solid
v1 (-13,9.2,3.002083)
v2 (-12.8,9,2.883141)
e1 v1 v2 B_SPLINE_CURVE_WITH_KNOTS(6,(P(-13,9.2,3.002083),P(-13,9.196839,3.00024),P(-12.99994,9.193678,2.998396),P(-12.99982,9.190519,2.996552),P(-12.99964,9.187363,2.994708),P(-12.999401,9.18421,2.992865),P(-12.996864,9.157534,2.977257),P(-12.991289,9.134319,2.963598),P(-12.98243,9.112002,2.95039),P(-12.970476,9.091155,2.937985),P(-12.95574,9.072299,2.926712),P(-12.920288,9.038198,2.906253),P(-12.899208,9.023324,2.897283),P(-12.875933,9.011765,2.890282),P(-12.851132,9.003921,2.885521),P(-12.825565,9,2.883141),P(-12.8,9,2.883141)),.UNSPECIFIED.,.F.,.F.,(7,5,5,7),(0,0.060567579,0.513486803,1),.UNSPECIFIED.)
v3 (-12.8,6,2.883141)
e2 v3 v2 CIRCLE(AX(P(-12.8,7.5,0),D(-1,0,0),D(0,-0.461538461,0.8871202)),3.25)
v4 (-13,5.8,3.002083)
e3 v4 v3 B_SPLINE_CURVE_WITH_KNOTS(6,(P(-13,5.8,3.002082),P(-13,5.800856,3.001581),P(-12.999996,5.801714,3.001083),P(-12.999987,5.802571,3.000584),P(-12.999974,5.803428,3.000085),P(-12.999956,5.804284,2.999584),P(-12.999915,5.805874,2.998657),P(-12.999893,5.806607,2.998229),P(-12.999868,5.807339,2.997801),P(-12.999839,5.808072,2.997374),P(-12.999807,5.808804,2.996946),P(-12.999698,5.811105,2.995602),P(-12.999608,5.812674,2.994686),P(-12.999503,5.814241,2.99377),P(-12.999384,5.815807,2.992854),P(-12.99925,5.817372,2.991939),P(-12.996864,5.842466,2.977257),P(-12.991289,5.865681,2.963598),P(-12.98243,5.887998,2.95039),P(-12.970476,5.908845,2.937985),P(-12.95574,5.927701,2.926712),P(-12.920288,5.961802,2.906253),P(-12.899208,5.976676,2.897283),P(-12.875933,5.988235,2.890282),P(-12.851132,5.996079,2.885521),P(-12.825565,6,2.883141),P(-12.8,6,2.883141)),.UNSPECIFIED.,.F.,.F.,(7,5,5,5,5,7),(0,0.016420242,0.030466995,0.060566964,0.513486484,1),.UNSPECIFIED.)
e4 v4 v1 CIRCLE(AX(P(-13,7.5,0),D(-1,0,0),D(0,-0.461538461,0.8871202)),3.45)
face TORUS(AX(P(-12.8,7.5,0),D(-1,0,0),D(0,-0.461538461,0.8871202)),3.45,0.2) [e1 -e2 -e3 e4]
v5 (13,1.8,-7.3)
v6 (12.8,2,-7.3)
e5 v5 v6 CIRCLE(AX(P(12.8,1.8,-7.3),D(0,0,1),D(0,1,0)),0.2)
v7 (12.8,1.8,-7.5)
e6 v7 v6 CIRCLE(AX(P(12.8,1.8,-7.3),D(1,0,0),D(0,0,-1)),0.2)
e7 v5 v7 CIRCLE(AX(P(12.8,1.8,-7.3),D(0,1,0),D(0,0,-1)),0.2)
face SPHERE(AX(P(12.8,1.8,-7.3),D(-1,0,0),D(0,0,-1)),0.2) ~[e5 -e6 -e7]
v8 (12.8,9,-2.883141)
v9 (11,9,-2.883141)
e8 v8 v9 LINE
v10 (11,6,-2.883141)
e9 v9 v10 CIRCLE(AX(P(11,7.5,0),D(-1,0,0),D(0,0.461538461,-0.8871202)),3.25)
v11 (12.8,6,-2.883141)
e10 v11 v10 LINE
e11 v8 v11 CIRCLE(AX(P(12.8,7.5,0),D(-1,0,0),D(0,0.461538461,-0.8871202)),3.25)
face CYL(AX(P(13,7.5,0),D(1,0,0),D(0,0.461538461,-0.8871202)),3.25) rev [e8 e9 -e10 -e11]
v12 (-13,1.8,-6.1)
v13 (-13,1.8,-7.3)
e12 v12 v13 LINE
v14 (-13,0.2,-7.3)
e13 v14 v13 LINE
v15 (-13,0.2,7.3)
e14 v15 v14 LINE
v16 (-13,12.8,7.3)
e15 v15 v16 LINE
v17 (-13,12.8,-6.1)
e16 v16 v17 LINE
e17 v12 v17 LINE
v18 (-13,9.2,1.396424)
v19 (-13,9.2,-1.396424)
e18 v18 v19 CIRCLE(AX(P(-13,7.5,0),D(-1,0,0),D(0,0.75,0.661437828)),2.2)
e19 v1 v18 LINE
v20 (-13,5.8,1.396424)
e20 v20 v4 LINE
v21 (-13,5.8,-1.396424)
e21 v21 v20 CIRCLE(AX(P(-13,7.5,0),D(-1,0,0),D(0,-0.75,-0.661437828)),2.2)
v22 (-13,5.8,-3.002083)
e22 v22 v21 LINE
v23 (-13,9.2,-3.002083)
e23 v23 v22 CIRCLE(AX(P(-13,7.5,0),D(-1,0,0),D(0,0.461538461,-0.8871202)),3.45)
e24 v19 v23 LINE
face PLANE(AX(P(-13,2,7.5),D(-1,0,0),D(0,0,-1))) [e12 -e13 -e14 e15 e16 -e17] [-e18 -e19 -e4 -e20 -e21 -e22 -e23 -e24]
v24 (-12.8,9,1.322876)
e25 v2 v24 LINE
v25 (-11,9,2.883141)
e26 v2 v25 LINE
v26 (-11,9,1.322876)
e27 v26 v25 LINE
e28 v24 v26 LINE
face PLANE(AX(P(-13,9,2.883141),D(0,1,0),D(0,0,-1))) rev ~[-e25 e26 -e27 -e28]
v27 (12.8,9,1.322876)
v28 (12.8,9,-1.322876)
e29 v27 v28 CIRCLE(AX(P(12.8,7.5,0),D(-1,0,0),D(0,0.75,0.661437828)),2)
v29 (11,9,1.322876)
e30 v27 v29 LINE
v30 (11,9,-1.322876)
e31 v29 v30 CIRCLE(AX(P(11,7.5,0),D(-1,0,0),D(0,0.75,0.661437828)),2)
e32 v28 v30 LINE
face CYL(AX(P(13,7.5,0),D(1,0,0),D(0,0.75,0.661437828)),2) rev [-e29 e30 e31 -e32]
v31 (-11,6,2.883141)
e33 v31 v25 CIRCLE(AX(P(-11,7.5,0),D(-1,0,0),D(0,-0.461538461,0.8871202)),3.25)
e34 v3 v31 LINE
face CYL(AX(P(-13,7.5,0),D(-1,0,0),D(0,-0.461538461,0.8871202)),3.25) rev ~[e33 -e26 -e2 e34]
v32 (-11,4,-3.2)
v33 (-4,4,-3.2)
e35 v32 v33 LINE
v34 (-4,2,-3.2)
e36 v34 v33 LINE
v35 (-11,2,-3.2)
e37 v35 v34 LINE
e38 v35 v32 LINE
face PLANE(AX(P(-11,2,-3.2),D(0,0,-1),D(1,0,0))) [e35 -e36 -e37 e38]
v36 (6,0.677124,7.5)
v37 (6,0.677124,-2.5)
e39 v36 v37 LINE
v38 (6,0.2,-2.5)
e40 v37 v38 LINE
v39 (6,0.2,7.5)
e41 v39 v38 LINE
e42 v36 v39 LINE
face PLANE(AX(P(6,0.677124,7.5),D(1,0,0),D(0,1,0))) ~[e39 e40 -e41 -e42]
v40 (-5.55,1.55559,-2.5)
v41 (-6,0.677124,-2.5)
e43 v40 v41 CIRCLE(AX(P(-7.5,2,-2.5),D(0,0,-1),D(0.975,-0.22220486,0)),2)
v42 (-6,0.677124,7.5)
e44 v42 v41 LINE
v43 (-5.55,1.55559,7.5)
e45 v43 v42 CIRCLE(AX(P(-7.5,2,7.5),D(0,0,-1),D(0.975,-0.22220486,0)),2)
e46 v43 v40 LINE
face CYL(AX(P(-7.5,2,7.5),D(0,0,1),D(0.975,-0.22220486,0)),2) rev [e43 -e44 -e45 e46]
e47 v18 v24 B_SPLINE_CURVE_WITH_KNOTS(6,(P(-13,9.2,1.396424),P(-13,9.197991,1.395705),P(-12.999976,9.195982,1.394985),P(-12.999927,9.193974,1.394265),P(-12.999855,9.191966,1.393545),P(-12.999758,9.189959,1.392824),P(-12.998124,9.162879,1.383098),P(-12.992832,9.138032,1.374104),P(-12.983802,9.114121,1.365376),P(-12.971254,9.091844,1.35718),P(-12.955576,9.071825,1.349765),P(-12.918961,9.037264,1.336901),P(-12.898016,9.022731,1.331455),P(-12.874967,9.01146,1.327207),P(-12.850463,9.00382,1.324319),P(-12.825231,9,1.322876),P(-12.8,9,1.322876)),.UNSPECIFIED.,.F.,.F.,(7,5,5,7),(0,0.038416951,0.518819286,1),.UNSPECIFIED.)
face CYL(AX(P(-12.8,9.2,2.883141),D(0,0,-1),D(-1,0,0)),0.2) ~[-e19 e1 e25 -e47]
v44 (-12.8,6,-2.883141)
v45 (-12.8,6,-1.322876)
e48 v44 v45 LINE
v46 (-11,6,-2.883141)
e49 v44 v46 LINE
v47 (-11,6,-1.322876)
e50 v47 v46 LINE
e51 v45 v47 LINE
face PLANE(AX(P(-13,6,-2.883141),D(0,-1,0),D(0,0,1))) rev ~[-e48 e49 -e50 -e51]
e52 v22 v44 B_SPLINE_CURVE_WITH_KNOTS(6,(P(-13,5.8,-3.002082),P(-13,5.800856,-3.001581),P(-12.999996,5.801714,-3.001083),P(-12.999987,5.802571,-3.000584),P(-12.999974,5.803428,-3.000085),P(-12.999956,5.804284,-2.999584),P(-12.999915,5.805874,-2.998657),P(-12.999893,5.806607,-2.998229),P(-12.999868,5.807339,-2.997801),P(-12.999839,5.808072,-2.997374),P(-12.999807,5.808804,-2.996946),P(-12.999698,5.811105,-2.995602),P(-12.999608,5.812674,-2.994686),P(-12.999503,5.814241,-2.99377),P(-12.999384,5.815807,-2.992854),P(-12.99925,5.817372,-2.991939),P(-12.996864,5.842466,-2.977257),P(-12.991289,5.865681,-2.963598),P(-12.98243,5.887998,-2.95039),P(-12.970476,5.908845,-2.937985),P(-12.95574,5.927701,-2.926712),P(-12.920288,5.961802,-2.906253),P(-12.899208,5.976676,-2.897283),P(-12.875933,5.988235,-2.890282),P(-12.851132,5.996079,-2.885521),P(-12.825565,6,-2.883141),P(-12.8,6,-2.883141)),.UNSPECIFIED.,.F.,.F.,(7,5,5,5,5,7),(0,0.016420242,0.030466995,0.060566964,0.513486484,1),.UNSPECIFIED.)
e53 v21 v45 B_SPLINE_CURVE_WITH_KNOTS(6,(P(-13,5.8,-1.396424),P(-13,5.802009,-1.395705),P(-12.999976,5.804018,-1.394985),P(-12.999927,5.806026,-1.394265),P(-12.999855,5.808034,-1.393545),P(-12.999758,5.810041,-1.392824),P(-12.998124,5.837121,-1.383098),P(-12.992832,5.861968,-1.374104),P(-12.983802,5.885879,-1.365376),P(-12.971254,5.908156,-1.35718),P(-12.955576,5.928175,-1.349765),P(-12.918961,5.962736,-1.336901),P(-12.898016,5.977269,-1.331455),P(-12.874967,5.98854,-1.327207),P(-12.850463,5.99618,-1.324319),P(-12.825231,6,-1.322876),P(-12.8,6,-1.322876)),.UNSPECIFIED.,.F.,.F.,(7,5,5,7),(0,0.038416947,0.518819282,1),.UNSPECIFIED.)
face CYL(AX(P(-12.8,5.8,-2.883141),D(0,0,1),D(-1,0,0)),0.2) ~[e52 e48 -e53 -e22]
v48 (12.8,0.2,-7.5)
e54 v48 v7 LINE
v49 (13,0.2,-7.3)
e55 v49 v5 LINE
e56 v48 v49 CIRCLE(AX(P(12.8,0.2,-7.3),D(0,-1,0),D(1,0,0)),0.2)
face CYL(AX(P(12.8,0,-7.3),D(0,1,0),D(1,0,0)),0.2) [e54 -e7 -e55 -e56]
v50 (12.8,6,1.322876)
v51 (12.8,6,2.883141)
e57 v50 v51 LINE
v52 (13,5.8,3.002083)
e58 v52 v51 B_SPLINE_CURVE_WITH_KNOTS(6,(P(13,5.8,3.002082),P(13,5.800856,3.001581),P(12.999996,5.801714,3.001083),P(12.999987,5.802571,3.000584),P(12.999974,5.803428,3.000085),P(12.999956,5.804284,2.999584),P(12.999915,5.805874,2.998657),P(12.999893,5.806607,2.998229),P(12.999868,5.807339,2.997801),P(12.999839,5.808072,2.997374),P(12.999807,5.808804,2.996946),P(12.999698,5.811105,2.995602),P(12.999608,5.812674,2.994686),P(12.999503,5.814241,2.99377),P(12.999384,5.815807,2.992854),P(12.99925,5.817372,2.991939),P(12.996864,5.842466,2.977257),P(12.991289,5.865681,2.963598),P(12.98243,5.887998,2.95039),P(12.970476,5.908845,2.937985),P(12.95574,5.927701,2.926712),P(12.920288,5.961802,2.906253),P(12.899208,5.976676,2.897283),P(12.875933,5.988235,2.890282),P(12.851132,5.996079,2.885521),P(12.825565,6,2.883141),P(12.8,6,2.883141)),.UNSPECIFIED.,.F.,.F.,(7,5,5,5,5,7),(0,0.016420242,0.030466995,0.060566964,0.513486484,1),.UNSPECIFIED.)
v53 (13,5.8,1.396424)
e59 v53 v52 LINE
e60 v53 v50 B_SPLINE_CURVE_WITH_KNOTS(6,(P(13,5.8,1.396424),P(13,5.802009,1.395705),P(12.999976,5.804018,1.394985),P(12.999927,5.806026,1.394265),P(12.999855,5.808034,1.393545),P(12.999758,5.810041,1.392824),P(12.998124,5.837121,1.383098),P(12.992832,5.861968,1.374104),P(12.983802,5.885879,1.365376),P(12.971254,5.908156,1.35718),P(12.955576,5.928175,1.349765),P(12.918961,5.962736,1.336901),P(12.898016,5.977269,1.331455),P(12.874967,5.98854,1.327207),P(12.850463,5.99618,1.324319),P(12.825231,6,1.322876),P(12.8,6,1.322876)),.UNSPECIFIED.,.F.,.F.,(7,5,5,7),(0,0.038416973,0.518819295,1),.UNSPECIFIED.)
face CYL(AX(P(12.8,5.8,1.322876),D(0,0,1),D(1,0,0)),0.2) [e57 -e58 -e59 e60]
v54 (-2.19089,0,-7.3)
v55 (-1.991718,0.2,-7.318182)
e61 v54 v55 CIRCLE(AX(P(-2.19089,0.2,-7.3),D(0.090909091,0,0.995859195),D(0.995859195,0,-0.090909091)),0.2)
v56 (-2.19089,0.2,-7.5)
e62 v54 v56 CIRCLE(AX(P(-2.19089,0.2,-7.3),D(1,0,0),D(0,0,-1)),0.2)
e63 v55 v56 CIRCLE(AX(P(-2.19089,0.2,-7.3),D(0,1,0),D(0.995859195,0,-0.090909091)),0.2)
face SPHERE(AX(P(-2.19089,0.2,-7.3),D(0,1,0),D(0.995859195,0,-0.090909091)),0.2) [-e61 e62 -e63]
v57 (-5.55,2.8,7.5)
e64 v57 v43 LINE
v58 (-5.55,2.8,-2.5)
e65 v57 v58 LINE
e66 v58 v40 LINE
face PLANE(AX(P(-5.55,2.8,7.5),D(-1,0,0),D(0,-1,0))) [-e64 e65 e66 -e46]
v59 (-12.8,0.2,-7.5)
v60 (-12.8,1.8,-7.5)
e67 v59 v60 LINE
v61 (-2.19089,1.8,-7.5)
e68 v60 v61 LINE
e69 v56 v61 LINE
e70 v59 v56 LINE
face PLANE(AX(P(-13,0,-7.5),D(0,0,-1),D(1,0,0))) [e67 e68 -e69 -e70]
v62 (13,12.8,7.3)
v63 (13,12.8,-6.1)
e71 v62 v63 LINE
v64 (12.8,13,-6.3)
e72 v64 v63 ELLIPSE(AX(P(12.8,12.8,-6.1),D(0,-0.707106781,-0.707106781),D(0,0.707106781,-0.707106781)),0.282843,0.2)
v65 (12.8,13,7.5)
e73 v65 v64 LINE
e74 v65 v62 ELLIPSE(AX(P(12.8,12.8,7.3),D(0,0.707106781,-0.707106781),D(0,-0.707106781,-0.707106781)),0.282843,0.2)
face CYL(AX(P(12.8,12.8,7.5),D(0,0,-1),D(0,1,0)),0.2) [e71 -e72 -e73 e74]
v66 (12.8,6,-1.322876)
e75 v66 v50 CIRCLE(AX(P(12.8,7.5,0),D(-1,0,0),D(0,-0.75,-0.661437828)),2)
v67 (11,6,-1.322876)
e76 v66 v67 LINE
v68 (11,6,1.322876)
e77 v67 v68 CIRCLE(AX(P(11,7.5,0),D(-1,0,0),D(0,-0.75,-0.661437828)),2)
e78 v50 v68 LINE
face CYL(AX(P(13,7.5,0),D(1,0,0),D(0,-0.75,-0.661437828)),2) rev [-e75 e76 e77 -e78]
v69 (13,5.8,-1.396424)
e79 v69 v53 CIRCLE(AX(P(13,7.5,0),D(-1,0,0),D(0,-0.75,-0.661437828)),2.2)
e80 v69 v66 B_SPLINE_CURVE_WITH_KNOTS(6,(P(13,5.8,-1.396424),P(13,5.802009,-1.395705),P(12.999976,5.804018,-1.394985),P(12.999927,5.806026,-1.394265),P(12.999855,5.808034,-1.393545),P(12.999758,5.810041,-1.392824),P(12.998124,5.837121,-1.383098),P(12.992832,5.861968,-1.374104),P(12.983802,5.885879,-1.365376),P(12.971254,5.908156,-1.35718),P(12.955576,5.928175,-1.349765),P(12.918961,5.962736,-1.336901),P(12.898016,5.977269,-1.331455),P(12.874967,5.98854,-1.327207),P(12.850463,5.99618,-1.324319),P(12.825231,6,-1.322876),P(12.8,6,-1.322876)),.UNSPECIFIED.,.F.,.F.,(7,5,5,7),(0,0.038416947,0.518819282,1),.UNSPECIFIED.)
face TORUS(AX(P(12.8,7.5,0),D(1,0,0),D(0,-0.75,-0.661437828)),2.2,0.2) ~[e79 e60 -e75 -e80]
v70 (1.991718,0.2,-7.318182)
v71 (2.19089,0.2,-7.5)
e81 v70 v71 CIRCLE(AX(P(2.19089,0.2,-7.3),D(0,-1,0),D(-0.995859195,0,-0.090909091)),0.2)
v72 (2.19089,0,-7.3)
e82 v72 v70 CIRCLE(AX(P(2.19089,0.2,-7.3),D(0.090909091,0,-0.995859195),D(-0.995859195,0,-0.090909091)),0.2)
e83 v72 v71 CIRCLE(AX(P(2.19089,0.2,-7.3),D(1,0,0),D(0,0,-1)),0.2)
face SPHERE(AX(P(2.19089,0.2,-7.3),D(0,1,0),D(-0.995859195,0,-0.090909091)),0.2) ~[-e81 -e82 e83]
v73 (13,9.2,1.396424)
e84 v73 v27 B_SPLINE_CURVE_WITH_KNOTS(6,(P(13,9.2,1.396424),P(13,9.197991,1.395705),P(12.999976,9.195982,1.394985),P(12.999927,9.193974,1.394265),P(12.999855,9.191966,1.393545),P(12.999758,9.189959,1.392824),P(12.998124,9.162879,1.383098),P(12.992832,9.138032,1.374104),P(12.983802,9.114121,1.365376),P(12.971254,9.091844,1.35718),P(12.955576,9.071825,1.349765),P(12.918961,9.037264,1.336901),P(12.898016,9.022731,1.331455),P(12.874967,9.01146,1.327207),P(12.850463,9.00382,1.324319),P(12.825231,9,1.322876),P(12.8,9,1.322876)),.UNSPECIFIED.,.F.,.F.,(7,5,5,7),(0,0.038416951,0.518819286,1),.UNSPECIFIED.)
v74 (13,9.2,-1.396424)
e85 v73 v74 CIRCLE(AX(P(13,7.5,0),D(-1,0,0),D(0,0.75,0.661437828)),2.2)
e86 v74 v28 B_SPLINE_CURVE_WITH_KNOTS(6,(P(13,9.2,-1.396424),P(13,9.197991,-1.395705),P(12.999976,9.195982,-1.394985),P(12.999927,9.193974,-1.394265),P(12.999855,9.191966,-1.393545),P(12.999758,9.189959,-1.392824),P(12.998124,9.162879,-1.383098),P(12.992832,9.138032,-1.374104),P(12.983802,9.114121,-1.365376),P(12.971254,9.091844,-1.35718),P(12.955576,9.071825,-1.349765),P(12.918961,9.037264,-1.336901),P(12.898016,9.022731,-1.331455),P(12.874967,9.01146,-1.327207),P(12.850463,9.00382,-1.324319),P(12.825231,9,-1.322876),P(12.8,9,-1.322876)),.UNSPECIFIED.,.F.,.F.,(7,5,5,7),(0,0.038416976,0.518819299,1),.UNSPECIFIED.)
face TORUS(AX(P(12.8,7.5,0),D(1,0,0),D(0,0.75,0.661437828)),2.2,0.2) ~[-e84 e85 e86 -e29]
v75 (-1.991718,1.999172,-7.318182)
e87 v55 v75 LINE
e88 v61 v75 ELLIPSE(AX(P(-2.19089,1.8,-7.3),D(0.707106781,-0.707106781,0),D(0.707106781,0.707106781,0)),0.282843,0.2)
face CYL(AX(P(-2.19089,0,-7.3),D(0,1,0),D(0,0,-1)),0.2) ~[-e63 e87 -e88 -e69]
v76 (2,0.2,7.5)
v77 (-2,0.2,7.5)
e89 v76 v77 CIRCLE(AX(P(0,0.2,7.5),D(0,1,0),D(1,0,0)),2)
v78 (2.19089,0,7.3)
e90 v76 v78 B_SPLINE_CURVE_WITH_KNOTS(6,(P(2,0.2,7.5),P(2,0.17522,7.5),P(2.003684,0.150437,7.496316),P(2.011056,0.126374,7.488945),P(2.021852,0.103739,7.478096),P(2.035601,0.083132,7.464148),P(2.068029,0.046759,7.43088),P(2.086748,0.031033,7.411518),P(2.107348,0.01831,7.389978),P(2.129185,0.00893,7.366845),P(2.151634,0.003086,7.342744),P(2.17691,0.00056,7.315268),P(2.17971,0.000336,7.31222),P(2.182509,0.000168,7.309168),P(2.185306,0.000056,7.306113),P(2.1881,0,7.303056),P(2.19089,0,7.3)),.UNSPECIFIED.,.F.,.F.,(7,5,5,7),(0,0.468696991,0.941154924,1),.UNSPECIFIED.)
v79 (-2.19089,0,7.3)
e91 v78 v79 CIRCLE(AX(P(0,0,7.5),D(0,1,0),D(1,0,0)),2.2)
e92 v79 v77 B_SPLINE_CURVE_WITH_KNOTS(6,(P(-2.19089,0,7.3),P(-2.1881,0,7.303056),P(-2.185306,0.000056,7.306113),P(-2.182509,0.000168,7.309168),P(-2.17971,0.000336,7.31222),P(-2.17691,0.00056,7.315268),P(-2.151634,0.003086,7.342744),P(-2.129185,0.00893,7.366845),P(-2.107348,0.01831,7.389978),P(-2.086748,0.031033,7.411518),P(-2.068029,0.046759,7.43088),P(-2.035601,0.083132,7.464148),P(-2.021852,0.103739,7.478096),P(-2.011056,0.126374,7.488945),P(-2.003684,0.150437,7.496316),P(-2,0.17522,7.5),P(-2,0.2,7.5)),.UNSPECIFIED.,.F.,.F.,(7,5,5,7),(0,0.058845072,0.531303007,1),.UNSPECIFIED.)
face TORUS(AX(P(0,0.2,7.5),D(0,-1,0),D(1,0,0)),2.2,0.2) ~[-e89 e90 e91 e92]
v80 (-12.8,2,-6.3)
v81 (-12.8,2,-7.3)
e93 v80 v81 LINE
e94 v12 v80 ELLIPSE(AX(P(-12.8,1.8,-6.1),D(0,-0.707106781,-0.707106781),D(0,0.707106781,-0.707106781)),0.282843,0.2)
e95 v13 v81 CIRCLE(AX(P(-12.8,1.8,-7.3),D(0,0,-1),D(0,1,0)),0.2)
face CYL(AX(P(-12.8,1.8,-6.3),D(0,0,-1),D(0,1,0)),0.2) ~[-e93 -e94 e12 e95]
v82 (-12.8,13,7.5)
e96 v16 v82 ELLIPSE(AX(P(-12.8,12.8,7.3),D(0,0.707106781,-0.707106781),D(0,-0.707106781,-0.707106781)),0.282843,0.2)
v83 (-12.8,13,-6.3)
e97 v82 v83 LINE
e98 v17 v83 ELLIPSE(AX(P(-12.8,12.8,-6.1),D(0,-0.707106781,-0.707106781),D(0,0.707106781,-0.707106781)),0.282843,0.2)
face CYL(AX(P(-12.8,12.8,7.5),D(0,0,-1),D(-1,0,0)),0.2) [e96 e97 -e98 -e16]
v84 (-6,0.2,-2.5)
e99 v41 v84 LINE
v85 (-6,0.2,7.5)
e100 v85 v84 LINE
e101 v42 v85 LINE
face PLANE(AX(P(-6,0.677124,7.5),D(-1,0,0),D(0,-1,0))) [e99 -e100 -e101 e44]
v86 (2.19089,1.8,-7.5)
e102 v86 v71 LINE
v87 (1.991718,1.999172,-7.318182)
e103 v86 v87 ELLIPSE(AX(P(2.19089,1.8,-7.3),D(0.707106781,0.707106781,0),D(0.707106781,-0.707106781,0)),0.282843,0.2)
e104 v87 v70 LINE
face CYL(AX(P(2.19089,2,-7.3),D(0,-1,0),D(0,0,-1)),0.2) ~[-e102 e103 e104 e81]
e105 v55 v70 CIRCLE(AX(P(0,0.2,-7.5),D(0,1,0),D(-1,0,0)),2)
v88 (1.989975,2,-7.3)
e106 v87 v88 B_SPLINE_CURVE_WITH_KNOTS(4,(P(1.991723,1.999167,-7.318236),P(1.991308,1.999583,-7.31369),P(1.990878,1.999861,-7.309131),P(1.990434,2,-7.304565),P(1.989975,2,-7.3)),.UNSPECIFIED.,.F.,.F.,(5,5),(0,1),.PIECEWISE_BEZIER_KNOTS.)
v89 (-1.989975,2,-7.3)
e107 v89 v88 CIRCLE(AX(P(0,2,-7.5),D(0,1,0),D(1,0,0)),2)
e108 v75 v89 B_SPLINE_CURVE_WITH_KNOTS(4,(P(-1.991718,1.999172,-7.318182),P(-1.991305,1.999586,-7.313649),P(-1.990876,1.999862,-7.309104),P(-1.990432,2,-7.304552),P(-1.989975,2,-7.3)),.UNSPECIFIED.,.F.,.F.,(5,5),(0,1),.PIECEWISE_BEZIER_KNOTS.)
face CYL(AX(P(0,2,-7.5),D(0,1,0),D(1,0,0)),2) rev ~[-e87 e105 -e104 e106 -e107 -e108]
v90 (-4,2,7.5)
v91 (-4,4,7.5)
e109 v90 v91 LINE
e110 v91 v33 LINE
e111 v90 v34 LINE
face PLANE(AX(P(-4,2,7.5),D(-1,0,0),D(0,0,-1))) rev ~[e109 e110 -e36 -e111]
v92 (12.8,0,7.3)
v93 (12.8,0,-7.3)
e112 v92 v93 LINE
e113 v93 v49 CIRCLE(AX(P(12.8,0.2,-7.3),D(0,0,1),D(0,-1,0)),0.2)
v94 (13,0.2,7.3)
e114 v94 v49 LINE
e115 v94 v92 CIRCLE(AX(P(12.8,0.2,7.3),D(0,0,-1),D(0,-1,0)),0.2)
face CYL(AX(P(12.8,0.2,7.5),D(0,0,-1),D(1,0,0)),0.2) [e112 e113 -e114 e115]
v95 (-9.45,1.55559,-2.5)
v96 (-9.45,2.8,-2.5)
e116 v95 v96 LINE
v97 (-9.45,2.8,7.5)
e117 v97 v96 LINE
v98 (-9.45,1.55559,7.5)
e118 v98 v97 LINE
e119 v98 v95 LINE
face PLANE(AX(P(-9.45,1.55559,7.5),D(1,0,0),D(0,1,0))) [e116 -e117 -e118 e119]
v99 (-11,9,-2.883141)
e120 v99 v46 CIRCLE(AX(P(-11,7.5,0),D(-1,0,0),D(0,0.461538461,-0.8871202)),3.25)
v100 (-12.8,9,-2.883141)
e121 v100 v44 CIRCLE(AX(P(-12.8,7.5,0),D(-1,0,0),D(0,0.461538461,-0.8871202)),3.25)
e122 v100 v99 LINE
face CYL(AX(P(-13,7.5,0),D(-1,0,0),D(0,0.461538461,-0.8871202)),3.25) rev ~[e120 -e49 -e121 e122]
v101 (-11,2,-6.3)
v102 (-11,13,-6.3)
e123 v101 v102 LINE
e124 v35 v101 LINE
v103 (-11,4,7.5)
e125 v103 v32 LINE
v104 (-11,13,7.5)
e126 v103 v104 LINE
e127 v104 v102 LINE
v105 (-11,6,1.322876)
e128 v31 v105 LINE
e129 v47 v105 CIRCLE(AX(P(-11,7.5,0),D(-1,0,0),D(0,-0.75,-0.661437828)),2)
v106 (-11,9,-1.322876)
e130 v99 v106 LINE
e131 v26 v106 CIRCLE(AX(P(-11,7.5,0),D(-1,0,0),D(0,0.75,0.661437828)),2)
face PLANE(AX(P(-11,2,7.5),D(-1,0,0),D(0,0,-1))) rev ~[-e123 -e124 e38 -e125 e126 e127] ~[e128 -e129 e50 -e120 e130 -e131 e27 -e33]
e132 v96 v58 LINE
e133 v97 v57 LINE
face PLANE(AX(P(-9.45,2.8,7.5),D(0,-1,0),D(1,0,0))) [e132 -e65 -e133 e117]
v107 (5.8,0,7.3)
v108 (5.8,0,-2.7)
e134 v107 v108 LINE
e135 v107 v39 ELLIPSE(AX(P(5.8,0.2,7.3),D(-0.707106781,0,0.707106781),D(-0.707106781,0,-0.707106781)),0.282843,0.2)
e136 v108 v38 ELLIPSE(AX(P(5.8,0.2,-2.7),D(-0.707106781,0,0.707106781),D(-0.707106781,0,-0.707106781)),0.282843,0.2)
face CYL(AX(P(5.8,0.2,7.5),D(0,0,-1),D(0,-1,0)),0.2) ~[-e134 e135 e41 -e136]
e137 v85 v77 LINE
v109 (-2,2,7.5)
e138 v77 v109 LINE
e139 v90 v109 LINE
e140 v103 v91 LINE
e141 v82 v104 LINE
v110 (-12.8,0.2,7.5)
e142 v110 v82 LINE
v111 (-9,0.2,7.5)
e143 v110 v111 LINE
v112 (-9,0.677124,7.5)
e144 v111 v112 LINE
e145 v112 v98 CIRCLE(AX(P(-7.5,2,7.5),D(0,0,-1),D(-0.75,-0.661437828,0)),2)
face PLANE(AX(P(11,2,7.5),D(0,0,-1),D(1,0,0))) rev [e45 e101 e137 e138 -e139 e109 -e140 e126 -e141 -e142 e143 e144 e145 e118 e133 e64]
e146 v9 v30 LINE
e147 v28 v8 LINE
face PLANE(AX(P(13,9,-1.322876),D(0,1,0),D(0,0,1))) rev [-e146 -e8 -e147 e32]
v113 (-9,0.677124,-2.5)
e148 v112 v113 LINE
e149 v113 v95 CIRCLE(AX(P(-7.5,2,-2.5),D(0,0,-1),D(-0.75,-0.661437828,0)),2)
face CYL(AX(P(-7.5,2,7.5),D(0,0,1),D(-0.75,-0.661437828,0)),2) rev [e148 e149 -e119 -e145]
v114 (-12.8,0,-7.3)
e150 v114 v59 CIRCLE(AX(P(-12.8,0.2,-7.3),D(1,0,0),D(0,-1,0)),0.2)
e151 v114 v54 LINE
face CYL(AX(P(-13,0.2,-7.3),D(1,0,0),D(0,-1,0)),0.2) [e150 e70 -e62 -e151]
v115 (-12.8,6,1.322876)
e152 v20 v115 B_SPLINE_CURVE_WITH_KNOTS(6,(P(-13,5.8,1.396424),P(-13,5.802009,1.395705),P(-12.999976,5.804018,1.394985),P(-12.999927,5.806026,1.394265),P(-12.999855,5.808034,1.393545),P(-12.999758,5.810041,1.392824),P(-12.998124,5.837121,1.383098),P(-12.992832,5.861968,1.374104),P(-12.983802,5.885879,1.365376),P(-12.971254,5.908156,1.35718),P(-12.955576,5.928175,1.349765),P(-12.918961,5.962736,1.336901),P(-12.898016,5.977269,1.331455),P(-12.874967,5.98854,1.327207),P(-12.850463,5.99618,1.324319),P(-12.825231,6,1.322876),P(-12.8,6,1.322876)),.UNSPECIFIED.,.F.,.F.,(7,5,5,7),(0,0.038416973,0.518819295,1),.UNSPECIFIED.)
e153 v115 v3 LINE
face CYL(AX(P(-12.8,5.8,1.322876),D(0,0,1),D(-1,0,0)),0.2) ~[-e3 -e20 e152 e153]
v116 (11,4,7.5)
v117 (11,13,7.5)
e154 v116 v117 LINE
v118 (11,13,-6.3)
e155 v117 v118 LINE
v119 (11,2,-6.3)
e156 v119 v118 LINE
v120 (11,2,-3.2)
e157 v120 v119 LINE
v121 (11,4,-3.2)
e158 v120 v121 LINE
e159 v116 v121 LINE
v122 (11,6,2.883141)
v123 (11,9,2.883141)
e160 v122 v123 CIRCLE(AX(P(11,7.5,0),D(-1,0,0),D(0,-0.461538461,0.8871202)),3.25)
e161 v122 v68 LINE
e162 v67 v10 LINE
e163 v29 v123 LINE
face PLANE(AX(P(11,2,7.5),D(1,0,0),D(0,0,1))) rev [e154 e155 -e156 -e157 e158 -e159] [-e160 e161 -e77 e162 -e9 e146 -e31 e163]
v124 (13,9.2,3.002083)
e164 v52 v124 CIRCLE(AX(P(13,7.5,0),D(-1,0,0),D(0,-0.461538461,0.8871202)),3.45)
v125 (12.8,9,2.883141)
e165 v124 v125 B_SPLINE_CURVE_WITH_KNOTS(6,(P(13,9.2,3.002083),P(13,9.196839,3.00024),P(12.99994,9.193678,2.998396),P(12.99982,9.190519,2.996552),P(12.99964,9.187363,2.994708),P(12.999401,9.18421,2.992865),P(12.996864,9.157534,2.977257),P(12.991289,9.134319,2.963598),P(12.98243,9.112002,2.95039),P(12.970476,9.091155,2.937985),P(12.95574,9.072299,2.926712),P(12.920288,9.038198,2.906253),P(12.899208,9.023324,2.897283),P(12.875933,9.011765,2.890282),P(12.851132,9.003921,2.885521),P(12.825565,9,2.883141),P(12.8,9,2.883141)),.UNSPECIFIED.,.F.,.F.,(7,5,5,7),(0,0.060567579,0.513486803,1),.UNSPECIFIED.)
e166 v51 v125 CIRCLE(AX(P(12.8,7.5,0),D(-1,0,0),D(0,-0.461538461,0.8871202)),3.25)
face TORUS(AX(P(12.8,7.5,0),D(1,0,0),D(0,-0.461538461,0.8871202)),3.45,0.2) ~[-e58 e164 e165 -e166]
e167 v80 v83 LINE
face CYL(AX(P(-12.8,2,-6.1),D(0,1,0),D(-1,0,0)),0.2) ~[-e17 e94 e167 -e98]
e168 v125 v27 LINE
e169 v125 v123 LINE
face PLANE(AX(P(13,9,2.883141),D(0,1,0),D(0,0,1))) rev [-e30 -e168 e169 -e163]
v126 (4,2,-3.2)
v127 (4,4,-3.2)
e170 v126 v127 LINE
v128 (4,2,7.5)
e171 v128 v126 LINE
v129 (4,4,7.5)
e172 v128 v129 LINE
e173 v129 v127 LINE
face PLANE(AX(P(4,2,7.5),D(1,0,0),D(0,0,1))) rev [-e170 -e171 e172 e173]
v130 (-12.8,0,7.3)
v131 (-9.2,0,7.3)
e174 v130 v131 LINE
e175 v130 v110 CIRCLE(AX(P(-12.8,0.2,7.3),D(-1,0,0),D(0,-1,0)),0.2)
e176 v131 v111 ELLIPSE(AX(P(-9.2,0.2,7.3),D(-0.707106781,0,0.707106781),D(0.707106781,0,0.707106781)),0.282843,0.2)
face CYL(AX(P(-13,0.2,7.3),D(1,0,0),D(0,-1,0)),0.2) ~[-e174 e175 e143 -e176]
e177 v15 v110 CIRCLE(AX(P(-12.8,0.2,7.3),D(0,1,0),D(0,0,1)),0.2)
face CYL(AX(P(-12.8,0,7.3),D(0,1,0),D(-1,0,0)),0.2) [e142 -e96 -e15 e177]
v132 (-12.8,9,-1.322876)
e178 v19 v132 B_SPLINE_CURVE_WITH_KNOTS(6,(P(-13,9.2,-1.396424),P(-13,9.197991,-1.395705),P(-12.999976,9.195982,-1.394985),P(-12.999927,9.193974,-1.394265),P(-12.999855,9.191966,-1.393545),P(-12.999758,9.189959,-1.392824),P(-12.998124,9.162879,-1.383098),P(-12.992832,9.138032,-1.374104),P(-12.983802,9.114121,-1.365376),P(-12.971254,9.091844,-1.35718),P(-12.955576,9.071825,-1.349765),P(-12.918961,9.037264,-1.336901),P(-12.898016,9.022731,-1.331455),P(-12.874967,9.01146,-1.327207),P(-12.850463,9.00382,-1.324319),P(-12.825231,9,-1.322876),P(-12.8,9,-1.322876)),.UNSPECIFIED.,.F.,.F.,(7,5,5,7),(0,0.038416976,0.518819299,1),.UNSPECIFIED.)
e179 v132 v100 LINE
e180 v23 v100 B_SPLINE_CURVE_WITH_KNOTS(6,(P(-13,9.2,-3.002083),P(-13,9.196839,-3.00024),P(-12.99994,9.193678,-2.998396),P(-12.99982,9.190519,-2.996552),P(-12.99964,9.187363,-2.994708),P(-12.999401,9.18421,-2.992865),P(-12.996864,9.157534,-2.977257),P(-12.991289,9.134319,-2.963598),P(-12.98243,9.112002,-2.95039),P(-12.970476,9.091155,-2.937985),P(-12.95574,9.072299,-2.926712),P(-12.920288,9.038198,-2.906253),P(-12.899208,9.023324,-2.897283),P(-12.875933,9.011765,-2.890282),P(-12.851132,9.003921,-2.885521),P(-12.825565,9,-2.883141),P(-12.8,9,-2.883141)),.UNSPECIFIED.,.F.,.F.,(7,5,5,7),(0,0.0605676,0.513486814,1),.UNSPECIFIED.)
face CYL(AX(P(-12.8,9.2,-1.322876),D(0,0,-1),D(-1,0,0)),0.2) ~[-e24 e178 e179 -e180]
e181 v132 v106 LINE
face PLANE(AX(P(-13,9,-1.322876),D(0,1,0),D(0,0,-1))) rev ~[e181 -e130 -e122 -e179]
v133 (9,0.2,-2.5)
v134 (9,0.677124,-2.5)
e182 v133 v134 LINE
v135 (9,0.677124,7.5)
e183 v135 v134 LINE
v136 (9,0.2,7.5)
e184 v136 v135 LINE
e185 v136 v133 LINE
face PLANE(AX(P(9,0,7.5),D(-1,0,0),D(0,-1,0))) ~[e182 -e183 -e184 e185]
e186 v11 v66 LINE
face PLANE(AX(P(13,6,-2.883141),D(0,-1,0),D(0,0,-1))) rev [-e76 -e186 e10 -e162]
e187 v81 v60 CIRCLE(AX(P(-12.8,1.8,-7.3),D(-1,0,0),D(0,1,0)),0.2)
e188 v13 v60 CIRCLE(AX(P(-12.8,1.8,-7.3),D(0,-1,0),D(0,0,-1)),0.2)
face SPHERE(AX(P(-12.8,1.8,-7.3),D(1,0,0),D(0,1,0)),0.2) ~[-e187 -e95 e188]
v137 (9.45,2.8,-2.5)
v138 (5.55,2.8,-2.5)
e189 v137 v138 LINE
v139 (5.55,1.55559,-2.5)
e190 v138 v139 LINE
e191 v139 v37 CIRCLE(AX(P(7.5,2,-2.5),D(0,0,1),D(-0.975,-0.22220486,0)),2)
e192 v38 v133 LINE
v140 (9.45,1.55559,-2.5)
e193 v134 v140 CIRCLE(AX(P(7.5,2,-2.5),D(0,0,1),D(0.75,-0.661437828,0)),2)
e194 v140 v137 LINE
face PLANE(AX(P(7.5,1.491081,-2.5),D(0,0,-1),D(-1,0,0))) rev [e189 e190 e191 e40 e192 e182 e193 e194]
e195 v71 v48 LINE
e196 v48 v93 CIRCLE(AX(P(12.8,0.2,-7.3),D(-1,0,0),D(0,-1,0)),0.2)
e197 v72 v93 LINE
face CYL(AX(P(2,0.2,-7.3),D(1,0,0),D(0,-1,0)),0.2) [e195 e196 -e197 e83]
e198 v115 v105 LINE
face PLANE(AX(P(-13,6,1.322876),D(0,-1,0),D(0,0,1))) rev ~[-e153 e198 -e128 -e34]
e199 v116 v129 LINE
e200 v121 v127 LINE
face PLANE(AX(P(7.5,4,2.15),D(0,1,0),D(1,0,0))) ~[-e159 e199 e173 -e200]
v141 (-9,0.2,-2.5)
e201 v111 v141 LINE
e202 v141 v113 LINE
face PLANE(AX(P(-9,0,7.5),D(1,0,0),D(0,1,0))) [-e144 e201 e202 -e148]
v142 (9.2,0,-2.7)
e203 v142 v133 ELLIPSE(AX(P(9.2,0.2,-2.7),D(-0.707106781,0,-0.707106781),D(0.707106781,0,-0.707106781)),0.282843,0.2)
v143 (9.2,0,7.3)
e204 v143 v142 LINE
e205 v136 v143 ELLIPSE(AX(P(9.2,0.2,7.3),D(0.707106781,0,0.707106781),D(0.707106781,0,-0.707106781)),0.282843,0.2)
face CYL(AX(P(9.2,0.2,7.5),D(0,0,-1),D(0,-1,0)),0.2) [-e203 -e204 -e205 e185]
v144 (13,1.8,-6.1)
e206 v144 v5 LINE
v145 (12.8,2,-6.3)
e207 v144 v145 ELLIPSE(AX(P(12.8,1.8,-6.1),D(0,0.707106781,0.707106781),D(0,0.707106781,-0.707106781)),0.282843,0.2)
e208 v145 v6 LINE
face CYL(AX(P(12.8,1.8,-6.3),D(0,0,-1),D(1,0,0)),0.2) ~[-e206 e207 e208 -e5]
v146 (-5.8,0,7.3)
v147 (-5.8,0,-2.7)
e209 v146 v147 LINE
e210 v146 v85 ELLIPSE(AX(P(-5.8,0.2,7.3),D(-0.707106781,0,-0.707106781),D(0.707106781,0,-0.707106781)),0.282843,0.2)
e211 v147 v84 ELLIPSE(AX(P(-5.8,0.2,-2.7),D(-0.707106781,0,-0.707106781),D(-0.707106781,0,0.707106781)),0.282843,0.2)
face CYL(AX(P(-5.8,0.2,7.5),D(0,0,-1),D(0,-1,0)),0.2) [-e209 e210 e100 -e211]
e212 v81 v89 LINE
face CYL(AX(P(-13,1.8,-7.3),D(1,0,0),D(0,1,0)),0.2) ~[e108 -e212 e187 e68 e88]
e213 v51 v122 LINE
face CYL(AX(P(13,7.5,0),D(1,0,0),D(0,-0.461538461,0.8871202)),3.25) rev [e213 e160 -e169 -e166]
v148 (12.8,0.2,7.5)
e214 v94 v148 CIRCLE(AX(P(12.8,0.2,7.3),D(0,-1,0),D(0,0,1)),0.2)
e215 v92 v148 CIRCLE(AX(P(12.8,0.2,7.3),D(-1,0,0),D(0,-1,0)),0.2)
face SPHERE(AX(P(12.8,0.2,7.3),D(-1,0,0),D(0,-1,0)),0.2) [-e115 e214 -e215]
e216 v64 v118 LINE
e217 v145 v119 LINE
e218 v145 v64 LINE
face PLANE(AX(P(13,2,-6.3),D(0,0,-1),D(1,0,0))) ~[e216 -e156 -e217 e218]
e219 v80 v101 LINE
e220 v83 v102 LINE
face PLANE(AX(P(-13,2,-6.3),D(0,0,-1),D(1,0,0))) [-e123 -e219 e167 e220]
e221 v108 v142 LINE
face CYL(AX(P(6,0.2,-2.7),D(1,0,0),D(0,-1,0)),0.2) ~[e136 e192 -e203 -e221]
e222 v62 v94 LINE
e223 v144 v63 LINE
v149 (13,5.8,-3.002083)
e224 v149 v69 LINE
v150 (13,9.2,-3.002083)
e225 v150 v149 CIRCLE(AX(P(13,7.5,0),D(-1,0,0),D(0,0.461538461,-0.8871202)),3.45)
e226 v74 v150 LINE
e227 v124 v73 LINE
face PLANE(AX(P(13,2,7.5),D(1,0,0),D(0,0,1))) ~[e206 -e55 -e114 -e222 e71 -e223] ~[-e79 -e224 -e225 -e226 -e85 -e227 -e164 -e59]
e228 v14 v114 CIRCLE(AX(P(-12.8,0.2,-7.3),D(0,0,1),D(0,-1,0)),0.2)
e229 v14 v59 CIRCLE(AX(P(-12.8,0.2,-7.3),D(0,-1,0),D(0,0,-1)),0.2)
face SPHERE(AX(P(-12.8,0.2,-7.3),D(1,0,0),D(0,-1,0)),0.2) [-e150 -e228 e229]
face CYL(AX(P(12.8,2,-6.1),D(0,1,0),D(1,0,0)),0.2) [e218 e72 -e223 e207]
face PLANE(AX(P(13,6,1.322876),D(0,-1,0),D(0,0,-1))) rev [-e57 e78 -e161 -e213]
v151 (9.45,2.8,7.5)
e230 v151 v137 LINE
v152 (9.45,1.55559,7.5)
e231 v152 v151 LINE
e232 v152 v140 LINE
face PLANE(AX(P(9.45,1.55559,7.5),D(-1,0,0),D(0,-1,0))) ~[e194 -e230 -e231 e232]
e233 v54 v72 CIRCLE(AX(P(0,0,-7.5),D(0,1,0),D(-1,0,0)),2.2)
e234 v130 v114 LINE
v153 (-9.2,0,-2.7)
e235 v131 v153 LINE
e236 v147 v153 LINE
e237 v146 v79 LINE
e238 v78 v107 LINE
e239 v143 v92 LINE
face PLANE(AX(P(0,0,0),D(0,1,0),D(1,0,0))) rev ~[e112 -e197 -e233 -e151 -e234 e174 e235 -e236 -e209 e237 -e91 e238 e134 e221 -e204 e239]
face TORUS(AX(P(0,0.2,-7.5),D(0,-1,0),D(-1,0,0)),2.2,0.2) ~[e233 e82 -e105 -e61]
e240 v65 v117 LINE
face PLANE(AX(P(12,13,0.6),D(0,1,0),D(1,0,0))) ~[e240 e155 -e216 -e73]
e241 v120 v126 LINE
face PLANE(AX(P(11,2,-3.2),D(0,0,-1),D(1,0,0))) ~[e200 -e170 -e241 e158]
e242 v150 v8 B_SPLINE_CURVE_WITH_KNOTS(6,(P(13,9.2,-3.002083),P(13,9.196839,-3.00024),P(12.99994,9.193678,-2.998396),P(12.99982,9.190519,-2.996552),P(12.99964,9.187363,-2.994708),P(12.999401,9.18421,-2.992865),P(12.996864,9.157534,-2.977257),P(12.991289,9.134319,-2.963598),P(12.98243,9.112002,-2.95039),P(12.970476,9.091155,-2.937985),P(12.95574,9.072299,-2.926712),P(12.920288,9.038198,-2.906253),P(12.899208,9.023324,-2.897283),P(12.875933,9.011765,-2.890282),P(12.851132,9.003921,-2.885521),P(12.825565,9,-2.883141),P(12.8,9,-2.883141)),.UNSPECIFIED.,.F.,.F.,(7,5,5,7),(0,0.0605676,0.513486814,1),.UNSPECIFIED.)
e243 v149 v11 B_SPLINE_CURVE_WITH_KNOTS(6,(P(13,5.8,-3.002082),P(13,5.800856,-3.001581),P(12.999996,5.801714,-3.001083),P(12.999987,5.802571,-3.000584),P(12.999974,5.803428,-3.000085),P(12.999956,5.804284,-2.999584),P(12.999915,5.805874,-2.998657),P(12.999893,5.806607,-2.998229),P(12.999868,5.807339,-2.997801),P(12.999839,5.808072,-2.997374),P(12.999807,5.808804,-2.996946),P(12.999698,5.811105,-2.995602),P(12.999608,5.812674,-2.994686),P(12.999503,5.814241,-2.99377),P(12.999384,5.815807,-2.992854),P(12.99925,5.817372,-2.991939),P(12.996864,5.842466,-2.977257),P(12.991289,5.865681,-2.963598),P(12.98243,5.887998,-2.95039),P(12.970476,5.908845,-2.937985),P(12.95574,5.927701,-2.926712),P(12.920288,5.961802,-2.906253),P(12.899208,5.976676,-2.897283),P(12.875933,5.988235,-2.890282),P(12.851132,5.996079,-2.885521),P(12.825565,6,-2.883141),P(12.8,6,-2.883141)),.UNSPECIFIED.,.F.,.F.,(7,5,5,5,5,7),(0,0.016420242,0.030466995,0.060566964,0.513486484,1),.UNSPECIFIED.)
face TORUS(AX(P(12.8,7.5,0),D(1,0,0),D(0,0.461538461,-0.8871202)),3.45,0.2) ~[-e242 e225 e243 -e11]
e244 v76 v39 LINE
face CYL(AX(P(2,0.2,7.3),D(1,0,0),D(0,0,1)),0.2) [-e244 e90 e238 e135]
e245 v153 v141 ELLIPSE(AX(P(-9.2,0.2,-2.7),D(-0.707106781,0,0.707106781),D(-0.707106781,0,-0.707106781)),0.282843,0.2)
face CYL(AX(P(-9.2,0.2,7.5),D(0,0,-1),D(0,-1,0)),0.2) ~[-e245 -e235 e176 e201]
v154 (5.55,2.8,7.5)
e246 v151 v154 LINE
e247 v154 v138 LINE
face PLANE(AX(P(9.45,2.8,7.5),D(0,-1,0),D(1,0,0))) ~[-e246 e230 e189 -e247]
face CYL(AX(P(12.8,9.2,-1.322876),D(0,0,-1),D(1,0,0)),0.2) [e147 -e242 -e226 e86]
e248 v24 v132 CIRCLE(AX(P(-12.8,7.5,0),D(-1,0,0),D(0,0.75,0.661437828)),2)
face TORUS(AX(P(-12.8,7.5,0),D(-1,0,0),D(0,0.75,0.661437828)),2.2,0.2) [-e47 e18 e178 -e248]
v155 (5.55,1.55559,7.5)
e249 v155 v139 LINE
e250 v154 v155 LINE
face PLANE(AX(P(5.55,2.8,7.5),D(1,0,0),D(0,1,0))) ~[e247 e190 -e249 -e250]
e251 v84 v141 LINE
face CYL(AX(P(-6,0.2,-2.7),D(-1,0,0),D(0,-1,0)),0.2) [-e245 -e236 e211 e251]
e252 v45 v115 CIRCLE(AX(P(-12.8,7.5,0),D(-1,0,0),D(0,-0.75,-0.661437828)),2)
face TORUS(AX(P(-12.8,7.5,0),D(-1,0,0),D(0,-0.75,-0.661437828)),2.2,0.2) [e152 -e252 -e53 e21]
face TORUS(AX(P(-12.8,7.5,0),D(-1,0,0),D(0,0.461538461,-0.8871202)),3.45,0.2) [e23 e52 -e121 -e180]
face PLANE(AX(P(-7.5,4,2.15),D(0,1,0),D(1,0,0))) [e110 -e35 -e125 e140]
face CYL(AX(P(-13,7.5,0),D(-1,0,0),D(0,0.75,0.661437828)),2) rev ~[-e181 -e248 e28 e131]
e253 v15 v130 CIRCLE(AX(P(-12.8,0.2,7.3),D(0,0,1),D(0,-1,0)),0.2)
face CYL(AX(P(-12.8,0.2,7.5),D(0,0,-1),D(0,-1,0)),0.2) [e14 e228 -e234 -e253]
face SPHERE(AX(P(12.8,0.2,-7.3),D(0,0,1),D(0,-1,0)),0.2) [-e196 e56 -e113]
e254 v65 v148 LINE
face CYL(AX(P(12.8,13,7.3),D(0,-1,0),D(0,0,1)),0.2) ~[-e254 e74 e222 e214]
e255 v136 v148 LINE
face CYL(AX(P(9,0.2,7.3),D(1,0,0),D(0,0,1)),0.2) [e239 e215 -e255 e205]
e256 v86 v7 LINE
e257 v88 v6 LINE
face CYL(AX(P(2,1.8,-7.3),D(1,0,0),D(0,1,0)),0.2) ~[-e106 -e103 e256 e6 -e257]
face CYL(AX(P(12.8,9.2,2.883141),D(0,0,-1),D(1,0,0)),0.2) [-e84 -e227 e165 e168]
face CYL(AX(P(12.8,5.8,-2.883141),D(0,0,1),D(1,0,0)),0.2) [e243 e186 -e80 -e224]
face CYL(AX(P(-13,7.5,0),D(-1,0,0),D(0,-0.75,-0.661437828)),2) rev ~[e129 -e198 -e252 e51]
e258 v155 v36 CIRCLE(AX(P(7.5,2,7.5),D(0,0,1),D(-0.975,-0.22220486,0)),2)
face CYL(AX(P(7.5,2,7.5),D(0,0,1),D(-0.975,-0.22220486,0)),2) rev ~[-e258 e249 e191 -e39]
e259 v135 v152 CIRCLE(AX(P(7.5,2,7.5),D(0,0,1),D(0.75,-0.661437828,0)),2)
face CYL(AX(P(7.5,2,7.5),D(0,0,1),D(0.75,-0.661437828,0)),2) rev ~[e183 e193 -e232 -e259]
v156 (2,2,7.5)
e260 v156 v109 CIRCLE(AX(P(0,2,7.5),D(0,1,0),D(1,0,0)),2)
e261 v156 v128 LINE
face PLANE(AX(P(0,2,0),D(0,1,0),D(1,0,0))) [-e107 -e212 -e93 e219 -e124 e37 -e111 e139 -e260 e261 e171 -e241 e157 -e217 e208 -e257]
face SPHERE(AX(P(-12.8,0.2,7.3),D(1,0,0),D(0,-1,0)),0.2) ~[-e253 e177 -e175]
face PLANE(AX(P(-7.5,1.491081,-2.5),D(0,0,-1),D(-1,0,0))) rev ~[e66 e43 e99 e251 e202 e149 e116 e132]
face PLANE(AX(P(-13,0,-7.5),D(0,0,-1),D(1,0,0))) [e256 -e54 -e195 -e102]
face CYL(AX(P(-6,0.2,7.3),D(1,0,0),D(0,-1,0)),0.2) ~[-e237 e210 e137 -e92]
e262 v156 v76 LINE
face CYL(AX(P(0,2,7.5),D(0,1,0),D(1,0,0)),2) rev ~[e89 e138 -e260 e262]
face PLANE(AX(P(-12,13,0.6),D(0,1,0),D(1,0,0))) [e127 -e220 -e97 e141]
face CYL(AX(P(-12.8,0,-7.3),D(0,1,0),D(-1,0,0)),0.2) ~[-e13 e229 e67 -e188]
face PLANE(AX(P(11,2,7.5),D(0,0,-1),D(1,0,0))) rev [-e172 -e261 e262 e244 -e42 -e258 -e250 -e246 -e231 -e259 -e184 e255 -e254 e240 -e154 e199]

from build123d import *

# Parameters (mm, degrees)
SKETCH_1_W          = 26
SKETCH_1_H          = 15
EXTRUDE_1_DEPTH     = 2
SKETCH_2_W          = 2
SKETCH_2_H          = 13.8
EXTRUDE_2_DEPTH     = 11
SKETCH_3_W          = 7
SKETCH_3_H          = 10.7
EXTRUDE_3_DEPTH     = 2
CUT_EXTRUDE_1_REACH = 32.021
CUT_EXTRUDE_2_DEPTH = 10
CUT_EXTRUDE_3_REACH = 20.608
SKETCH_6_R          = 2
FILLET_1_R          = 0.2


with BuildPart() as part:
    # 草图1 → 凸台-拉伸1 (new body)
    with BuildSketch(Plane(origin=(0, 0, 0), x_dir=(1, 0, 0), z_dir=(0, 1, 0))):
        Rectangle(SKETCH_1_W, SKETCH_1_H)
    extrude(amount=EXTRUDE_1_DEPTH)

    # 草图2 → 凸台-拉伸2 (add)
    with BuildSketch(Plane(origin=(0, 2, 0), x_dir=(1, 0, 0), z_dir=(0, 1, 0))):
        with Locations((-12, -0.6)):
            Rectangle(SKETCH_2_W, SKETCH_2_H)
    extrude_2 = extrude(amount=EXTRUDE_2_DEPTH)

    # 草图3 → 凸台-拉伸3 (add)
    with BuildSketch(Plane(origin=(0, 2, 0), x_dir=(1, 0, 0), z_dir=(0, 1, 0))):
        with Locations((-7.5, -2.15)):
            Rectangle(SKETCH_3_W, SKETCH_3_H)
    extrude_3 = extrude(amount=EXTRUDE_3_DEPTH)

    # 草图4 → 切除-拉伸1 (cut, up to next)
    with BuildSketch(Plane.ZY.offset(13), mode=Mode.PRIVATE) as cut_extrude_1_sk1:
        with BuildLine():
            Line((-2.883140649, 6), (-1.322875656, 6))
            ThreePointArc((-1.322875656, 6), (0, 5.5), (1.322875656, 6))
            Line((1.322875656, 6), (2.883140649, 6))
            ThreePointArc((2.883140649, 6), (3.25, 7.5), (2.883140649, 9))
            Line((2.883140649, 9), (1.322875656, 9))
            ThreePointArc((1.322875656, 9), (0, 9.5), (-1.322875656, 9))
            Line((-1.322875656, 9), (-2.883140649, 9))
            ThreePointArc((-2.883140649, 9), (-3.25, 7.5), (-2.883140649, 6))
        make_face()
    cut_extrude_1_tool1 = extrude(cut_extrude_1_sk1.sketch, amount=-CUT_EXTRUDE_1_REACH, mode=Mode.PRIVATE) & part.part
    cut_extrude_1 = cut_extrude_1_tool1.solids().sort_by_distance((-13, 7.5, 0))[0]
    add(cut_extrude_1, mode=Mode.SUBTRACT)

    # 草图5 → 切除-拉伸2 (cut)
    with BuildSketch(Plane.XY.offset(7.5)):
        with BuildLine():
            Line((-6, 0), (-9, 0))
            Line((-9, 0), (-9, 0.677124344))
            ThreePointArc((-9, 0.677124344), (-9.280042303, 1.088161527), (-9.45, 1.555590279))
            Line((-9.45, 1.555590279), (-9.45, 2.8))
            Line((-9.45, 2.8), (-5.55, 2.8))
            Line((-5.55, 2.8), (-5.55, 1.555590279))
            ThreePointArc((-5.55, 1.555590279), (-5.719957697, 1.088161527), (-6, 0.677124344))
            Line((-6, 0.677124344), (-6, 0))
        make_face()
    cut_extrude_2 = extrude(amount=-CUT_EXTRUDE_2_DEPTH, mode=Mode.SUBTRACT)

    # 镜向1: 凸台-拉伸2, 凸台-拉伸3, 切除-拉伸1, 切除-拉伸2 across plane
    add(extrude_2.mirror(Plane(origin=(0, 0, 0), x_dir=(0, 0, 1), z_dir=(1, 0, 0))))
    add(extrude_3.mirror(Plane(origin=(0, 0, 0), x_dir=(0, 0, 1), z_dir=(1, 0, 0))))
    add(cut_extrude_1.mirror(Plane(origin=(0, 0, 0), x_dir=(0, 0, 1), z_dir=(1, 0, 0))), mode=Mode.SUBTRACT)
    add(cut_extrude_2.mirror(Plane(origin=(0, 0, 0), x_dir=(0, 0, 1), z_dir=(1, 0, 0))), mode=Mode.SUBTRACT)

    # 草图6 → 切除-拉伸3 (cut, up to next)
    with BuildSketch(Plane(origin=(0, 2, 0), x_dir=(1, 0, 0), z_dir=(0, 1, 0)), mode=Mode.PRIVATE) as cut_extrude_3_sk1:
        with Locations((0, -7.5)):
            Circle(SKETCH_6_R)
    cut_extrude_3_tool1 = extrude(cut_extrude_3_sk1.sketch, amount=-CUT_EXTRUDE_3_REACH, mode=Mode.PRIVATE) & part.part
    # 草图6 → 切除-拉伸3 (cut, up to next)
    with BuildSketch(Plane(origin=(0, 2, 0), x_dir=(1, 0, 0), z_dir=(0, 1, 0)), mode=Mode.PRIVATE) as cut_extrude_3_sk2:
        with Locations((0, 7.5)):
            Circle(SKETCH_6_R)
    cut_extrude_3_tool2 = extrude(cut_extrude_3_sk2.sketch, amount=-CUT_EXTRUDE_3_REACH, mode=Mode.PRIVATE) & part.part
    add(cut_extrude_3_tool1.solids().sort_by_distance((0, 2, 7.5))[0], mode=Mode.SUBTRACT)
    add(cut_extrude_3_tool2.solids().sort_by_distance((0, 2, -7.5))[0], mode=Mode.SUBTRACT)

    # 圆角1
    fillet_1_edges = [part.edges().sort_by_distance(p)[0] for p in [
        (13, 5.5, 0),
        (13, 6, 2.103008152),
        (13, 7.5, 3.25),
        (13, 9, 2.103008152),
        (13, 9.5, 0),
        (13, 9, -2.103008152),
        (13, 7.5, -3.25),
        (13, 6, -2.103008152),
        (11, 0, 7.5),
        (6, 0, 2.5),
        (9, 0, 2.5),
        (7.5, 0, -2.5),
        (-13, 7.5, -6.3),
        (4, 0, 7.5),
        (0, 0, 5.5),
        (-13, 13, 0.6),
        (-7.5, 0, -7.5),
        (-7.5, 2, -7.5),
        (2, 1, -7.5),
        (-2, 1, -7.5),
        (0, 0, -5.5),
        (7.5, 2, -7.5),
        (13, 0, 0),
        (-11, 0, 7.5),
        (-13, 5.5, 0),
        (-13, 6, 2.103008152),
        (-13, 7.5, 3.25),
        (-13, 9, 2.103008152),
        (-13, 9.5, 0),
        (-13, 9, -2.103008152),
        (-13, 7.5, -3.25),
        (-13, 6, -2.103008152),
        (-13, 0, 0),
        (7.5, 0, -7.5),
        (-4, 0, 7.5),
        (-13, 2, -6.9),
        (13, 1, -7.5),
        (-7.5, 0, -2.5),
        (-6, 0, 2.5),
        (-9, 0, 2.5),
        (13, 6.5, 7.5),
        (-13, 6.5, 7.5),
        (-13, 1, -7.5),
        (13, 2, -6.9),
        (13, 13, 0.6),
        (13, 7.5, -6.3),
    ]]
    fillet(fillet_1_edges, radius=FILLET_1_R)


solid = part.part
